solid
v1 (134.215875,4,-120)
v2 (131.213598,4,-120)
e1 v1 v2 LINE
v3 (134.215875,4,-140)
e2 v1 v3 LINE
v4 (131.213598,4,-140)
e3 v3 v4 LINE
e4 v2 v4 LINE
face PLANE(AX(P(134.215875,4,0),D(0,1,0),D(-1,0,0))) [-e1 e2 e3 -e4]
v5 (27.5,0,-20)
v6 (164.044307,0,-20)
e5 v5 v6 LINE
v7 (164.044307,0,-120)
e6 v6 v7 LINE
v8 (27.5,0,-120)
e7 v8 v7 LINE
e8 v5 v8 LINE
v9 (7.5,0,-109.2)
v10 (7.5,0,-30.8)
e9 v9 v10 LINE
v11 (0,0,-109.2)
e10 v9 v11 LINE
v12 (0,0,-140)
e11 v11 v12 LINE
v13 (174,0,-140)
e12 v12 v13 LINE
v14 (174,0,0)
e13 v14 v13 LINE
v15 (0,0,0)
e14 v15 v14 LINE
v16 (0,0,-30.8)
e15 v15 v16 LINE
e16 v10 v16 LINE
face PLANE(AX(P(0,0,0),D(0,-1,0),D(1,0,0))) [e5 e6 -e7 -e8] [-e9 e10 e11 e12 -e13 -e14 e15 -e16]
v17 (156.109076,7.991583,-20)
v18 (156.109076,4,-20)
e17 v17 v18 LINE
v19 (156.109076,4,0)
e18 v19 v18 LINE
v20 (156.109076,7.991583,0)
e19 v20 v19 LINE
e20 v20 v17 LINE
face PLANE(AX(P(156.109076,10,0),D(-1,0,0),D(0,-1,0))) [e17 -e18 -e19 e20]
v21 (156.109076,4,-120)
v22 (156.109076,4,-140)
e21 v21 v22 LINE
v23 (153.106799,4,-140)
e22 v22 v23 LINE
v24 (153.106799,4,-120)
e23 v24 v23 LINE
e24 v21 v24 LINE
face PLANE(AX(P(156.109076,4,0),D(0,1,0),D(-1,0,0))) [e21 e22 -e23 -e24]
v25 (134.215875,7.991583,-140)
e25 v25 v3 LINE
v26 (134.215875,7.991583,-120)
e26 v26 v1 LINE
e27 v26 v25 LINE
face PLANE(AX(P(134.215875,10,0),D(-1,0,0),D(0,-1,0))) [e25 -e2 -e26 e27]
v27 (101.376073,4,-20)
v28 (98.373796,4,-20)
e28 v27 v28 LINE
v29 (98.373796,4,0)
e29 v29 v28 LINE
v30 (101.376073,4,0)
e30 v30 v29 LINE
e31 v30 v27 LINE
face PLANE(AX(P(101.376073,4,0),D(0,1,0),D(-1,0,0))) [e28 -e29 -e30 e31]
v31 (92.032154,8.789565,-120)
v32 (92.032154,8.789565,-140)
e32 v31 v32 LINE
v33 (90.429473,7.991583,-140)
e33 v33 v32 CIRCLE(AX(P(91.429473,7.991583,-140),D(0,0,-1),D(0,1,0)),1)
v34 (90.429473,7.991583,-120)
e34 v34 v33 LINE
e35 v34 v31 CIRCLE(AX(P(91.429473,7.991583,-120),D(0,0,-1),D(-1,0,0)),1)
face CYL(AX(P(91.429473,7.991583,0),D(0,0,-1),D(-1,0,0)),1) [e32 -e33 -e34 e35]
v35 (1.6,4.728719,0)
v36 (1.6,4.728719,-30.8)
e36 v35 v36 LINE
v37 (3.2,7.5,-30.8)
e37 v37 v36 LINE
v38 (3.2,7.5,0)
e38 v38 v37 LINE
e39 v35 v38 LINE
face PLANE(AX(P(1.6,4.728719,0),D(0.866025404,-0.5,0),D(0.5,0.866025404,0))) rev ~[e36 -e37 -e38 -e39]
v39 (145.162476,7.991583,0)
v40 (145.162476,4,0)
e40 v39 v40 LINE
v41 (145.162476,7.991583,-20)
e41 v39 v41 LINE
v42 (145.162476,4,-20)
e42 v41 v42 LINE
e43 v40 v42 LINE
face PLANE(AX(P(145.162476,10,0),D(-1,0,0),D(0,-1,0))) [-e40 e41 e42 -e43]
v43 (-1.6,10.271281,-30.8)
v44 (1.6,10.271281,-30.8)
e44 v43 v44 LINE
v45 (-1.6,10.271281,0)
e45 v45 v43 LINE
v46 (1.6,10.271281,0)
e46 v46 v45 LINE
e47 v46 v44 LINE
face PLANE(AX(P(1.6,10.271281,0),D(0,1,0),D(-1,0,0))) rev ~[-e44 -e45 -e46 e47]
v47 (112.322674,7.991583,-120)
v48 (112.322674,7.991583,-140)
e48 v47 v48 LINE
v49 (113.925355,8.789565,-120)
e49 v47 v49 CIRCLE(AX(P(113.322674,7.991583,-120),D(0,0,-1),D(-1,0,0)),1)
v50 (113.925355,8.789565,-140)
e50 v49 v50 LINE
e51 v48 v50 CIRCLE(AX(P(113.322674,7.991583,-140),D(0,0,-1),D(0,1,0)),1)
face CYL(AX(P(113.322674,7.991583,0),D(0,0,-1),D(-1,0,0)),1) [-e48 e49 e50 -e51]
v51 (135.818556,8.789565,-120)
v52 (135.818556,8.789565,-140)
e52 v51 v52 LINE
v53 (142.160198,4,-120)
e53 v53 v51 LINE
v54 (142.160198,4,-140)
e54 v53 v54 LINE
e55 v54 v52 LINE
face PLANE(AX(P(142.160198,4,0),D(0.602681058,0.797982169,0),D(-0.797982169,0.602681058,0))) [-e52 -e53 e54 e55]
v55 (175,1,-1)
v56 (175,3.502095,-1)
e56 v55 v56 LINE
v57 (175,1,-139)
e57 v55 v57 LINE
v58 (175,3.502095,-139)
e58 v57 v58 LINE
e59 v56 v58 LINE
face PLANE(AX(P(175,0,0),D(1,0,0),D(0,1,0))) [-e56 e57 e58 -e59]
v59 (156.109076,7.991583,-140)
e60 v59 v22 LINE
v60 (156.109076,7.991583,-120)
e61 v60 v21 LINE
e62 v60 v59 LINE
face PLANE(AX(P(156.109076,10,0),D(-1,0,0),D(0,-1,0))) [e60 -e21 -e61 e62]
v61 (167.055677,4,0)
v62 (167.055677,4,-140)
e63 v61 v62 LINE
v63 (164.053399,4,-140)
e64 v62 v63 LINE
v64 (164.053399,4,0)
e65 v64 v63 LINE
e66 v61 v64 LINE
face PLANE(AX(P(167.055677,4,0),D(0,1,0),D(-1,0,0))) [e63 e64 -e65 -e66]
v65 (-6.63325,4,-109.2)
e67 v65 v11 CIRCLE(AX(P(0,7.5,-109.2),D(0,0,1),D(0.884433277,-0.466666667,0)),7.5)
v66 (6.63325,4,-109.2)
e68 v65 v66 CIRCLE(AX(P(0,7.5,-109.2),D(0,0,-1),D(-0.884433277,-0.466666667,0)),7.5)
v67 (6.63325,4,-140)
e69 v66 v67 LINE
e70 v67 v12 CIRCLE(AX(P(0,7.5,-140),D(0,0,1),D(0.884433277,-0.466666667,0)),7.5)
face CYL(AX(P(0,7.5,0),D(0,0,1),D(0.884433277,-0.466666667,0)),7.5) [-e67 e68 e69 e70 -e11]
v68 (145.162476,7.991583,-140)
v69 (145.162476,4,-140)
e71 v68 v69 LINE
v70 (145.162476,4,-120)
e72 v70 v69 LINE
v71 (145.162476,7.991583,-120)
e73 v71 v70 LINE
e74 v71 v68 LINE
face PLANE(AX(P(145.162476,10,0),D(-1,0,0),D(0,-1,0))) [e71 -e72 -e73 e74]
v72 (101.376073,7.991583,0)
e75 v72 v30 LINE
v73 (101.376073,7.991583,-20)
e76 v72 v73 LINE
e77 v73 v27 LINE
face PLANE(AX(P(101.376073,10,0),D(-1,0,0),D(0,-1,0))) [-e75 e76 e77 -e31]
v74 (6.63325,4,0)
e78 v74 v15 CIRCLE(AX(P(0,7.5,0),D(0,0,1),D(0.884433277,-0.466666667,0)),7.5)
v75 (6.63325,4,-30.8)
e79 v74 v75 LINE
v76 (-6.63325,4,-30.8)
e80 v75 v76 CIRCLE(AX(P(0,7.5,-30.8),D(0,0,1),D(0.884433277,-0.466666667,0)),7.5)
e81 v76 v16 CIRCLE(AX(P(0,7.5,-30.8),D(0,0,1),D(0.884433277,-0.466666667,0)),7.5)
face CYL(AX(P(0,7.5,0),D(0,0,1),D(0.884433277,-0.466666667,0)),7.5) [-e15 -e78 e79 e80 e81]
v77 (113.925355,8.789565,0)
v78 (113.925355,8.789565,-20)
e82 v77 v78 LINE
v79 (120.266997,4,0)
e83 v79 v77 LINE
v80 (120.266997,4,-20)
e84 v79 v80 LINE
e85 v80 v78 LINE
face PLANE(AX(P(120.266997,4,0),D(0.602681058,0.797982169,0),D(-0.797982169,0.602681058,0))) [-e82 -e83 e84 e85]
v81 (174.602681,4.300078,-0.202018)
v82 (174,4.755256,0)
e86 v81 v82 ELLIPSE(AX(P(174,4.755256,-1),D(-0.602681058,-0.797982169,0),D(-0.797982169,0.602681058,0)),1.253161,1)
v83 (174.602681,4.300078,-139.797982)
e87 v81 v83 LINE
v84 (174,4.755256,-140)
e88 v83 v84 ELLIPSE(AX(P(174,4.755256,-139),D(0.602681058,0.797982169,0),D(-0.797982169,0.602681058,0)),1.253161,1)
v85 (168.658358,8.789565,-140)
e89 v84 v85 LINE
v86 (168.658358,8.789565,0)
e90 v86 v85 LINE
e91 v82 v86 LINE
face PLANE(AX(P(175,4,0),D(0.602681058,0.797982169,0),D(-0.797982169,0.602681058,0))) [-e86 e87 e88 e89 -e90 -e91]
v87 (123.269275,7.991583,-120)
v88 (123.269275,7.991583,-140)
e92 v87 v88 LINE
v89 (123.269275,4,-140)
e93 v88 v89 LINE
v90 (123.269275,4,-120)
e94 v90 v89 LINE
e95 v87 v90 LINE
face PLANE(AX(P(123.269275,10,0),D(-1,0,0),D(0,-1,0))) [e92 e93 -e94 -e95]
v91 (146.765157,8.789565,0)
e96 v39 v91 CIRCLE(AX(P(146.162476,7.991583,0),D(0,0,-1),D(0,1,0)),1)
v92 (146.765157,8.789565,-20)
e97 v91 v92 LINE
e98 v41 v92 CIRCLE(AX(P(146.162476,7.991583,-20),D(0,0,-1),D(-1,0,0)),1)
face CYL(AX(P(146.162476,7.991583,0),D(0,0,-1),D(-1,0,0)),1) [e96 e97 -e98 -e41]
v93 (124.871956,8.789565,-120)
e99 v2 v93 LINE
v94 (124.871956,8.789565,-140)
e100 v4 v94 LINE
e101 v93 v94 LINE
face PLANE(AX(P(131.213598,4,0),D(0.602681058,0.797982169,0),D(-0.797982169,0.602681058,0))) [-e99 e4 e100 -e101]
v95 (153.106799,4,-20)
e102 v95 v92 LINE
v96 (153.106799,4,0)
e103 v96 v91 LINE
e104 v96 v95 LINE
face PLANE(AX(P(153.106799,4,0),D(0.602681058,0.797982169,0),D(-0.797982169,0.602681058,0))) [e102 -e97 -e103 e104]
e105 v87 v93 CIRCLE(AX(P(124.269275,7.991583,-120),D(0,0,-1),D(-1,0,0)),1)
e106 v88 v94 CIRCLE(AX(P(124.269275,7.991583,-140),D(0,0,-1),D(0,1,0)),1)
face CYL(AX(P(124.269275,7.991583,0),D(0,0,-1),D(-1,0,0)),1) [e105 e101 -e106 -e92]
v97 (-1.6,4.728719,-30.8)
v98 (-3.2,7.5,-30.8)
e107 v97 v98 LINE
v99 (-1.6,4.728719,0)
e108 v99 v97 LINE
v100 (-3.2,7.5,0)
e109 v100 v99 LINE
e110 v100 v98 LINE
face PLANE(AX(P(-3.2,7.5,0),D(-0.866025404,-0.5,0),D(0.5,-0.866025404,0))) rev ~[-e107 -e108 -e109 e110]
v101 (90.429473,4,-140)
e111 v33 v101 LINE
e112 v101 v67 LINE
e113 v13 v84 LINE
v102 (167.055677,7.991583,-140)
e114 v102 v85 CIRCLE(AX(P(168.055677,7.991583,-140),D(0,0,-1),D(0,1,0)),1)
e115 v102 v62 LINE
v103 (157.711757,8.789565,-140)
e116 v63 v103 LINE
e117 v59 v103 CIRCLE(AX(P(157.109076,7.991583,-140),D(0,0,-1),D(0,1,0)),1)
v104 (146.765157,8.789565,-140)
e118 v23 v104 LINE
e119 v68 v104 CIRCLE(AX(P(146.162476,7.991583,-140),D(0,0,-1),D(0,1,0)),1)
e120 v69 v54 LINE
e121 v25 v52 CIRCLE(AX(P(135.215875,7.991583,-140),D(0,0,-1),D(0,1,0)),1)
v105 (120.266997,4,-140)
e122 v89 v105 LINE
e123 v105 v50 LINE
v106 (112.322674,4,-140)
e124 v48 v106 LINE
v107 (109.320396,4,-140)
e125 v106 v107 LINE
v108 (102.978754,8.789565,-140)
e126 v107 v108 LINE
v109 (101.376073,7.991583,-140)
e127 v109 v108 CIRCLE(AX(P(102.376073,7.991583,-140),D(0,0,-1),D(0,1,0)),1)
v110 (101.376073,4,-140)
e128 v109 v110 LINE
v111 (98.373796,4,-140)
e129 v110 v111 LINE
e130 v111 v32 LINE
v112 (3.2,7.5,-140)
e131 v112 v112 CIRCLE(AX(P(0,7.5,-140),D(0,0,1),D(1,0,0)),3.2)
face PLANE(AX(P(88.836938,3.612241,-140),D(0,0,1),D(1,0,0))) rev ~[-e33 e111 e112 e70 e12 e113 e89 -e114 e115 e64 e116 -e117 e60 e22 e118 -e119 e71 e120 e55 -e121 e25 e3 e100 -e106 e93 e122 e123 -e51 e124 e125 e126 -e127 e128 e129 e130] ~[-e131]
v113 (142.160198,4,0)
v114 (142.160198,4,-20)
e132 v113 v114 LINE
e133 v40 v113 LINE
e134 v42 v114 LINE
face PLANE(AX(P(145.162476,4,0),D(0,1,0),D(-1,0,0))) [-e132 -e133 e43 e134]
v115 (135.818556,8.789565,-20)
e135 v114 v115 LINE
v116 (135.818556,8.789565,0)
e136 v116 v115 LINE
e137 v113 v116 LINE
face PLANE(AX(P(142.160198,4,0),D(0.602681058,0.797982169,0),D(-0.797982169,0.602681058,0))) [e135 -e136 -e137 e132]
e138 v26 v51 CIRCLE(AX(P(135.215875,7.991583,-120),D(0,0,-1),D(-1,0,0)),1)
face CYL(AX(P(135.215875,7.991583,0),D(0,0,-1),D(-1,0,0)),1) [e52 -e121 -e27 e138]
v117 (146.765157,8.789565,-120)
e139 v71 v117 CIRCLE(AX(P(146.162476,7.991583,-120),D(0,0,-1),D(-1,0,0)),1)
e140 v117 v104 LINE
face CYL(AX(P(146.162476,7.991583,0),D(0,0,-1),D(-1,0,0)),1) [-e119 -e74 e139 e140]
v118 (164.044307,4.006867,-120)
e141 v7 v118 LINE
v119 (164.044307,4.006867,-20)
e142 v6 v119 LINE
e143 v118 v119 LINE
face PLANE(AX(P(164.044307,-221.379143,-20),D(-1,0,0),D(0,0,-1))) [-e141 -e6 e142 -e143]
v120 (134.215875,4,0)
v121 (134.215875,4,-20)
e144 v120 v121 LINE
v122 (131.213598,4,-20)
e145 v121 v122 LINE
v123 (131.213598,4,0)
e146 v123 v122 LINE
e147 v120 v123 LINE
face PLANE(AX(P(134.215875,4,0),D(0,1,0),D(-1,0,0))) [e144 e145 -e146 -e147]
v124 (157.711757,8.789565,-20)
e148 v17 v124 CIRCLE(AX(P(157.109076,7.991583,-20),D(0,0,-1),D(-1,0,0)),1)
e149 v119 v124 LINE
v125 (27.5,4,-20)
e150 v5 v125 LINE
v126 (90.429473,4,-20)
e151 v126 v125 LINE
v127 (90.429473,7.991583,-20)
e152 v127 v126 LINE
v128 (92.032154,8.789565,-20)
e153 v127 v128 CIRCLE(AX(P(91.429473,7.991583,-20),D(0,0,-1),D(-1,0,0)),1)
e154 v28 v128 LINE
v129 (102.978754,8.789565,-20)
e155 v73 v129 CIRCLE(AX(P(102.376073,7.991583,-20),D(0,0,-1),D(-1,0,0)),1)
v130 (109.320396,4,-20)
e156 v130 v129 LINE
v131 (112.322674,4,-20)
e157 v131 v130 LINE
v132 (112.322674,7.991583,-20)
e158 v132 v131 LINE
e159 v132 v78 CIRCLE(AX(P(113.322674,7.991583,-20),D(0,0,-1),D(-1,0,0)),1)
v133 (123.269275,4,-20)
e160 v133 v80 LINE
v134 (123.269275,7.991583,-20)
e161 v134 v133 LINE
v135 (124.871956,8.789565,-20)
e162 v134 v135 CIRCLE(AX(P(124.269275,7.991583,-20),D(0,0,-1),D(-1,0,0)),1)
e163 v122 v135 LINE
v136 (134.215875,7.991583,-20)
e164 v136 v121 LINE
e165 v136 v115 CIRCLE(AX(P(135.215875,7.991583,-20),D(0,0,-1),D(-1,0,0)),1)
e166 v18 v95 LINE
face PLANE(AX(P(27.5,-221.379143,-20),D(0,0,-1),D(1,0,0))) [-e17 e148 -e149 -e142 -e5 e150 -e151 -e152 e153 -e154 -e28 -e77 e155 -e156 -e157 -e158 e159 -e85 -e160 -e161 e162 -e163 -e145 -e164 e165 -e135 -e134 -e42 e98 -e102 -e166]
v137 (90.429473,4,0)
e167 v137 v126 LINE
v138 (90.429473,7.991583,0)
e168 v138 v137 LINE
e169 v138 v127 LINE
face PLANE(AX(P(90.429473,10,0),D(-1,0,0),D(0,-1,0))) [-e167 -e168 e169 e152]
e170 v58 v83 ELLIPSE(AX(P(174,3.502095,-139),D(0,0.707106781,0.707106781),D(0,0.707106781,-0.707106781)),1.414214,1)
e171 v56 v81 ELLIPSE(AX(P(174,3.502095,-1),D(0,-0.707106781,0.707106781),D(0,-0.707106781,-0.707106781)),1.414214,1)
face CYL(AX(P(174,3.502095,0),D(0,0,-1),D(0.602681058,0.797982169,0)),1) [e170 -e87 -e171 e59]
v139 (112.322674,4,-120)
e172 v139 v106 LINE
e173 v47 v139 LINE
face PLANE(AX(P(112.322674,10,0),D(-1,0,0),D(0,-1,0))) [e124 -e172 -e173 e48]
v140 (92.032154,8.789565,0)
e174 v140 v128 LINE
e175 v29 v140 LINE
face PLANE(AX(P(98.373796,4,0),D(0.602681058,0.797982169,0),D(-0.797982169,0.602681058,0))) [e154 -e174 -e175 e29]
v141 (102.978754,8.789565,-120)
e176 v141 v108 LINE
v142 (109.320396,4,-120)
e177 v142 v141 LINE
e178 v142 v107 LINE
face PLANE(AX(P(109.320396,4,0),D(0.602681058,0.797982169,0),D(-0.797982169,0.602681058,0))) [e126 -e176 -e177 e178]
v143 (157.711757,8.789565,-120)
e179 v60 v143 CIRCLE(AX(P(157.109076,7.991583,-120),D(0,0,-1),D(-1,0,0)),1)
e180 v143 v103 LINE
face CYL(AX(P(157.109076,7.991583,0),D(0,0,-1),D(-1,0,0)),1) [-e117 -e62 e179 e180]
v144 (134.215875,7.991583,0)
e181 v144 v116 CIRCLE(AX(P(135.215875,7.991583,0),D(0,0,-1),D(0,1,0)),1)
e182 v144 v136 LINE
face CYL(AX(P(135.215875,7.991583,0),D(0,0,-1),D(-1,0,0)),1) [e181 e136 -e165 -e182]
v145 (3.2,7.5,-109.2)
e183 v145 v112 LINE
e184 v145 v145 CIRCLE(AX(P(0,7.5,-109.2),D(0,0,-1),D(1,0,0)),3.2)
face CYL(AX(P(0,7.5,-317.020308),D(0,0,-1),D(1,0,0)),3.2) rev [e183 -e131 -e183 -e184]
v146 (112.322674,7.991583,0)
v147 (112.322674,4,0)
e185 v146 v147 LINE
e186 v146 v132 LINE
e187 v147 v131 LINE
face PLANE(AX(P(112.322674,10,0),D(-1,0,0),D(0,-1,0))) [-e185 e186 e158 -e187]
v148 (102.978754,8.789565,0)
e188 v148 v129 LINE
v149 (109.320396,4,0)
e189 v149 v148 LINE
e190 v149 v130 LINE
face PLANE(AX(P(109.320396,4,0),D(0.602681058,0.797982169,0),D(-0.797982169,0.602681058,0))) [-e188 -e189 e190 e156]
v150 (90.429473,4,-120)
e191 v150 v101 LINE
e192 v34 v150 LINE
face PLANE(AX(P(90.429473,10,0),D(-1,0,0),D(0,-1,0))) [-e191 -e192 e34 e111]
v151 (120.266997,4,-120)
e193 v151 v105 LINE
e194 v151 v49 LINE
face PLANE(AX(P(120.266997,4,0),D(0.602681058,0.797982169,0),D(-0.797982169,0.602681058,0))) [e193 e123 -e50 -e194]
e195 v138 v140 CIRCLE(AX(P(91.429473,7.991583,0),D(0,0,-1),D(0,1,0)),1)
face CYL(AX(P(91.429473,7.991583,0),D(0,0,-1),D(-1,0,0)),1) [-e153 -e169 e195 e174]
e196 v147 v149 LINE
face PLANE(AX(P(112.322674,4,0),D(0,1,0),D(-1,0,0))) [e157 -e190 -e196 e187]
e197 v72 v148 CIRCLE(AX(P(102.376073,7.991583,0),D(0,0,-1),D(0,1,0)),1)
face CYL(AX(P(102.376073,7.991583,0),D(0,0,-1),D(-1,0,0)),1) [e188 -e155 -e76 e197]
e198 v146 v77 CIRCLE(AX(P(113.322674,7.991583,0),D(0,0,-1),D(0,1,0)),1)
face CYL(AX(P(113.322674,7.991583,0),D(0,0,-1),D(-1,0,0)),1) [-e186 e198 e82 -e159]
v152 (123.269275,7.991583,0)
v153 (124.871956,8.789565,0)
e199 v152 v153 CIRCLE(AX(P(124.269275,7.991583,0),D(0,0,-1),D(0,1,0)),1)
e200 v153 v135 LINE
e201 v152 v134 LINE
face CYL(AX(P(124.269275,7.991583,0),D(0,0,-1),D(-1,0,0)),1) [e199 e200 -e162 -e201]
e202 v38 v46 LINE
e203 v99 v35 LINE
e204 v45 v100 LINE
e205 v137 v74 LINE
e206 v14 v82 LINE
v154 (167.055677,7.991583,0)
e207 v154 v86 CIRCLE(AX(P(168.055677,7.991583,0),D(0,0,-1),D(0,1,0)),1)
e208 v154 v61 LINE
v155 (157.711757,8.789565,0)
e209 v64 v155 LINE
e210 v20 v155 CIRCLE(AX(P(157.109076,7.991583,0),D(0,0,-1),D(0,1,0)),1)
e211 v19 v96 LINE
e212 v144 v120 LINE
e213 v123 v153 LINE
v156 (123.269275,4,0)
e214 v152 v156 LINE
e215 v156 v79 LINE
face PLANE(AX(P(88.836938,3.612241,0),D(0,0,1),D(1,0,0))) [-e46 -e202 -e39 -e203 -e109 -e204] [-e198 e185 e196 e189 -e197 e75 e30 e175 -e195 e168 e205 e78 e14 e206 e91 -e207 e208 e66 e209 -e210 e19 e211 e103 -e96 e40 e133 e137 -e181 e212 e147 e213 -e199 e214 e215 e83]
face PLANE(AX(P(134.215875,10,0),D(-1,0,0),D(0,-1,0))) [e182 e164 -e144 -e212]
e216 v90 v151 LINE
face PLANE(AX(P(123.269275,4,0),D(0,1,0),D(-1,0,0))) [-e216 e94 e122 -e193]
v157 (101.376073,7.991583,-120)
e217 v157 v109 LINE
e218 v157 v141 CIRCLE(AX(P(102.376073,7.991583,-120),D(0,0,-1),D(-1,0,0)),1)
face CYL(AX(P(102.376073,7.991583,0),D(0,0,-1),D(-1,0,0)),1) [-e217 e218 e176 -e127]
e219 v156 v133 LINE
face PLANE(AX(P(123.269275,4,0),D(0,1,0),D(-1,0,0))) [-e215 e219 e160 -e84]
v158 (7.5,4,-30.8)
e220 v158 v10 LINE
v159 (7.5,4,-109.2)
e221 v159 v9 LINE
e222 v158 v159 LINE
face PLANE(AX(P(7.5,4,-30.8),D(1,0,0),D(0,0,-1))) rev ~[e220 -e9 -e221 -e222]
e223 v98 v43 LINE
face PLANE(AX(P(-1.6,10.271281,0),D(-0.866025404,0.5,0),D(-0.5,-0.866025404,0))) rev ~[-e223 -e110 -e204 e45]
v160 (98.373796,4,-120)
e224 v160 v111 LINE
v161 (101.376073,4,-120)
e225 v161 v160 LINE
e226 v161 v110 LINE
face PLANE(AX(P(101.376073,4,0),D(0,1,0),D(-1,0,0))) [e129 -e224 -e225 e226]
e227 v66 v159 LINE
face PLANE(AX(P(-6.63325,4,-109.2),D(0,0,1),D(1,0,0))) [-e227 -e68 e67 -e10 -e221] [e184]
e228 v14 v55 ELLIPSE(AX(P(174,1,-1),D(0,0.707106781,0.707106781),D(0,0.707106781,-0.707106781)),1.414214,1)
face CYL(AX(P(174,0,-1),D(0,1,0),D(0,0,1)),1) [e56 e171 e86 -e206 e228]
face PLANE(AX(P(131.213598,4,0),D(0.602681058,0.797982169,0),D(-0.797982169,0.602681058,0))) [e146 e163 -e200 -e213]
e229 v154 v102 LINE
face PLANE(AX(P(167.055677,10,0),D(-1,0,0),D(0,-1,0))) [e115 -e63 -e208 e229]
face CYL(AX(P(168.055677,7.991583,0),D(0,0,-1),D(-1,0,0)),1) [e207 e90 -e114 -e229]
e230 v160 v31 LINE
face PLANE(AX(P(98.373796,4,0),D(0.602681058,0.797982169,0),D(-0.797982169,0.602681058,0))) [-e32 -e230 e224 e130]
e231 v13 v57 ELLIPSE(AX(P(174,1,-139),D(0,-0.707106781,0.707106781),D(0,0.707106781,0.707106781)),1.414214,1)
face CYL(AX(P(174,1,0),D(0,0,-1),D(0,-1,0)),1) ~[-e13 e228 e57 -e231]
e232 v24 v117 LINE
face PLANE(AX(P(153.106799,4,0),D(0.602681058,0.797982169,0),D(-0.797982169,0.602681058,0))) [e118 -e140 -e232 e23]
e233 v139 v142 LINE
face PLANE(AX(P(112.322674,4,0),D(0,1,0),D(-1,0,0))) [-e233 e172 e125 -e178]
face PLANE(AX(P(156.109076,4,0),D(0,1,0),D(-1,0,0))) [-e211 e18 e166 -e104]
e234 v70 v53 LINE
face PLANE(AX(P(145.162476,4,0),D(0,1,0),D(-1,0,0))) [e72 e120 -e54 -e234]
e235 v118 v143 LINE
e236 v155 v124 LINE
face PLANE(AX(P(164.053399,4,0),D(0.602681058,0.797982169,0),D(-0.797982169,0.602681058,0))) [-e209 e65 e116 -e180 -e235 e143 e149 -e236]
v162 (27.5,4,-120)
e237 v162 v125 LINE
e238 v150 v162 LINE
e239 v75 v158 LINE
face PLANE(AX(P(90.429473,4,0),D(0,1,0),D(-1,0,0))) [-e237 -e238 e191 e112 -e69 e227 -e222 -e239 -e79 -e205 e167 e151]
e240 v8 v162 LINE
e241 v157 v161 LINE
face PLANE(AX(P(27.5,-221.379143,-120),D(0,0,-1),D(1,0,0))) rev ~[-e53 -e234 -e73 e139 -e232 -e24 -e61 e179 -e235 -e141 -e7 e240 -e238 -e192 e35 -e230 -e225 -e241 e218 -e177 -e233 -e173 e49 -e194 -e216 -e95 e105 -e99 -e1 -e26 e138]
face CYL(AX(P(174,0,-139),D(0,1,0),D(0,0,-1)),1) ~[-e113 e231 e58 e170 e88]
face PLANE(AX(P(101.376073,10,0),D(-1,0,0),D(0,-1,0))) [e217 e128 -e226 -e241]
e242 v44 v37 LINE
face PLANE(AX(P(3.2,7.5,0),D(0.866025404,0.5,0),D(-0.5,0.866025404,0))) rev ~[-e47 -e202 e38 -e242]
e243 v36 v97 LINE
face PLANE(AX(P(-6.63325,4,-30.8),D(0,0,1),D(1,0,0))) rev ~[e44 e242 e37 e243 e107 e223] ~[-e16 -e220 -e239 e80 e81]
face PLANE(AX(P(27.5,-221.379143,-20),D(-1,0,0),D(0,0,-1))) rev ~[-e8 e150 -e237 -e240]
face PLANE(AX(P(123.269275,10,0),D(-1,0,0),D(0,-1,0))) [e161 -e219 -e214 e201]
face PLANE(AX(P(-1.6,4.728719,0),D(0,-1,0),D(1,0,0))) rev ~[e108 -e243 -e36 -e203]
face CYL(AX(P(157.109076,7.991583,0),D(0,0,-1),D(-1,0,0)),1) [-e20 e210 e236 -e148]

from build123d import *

# Parameters (mm, degrees)
EXTRUDE_1_DEPTH          = 140
CUT_EXTRUDE_1_DEPTH      = 20
CUT_EXTRUDE_1_DEPTH_BACK = 20
SKETCH_2_W               = 78.4
SKETCH_2_H               = 11
CUT_EXTRUDE_2_DEPTH      = 78.4
CUT_EXTRUDE_2_DEPTH_BACK = 207.820308481
SKETCH_3_R               = 3.2
FILLET_1_R               = 1
SKETCH_4_W               = 14.133249581
SKETCH_4_H               = 78.4
CUT_EXTRUDE_3_DEPTH      = 225.379143416
CUT_EXTRUDE_4_DEPTH      = 225.379143416
CUT_EXTRUDE_4_DEPTH_BACK = 225.379143416
SKETCH_5_W               = 136.544306781
SKETCH_5_H               = 100


with BuildPart() as part:
    # 草图1 → 凸台-拉伸1 (new body)
    with BuildSketch(Plane.XY):
        with BuildLine():
            Line((0, 0), (175, 0))
            Line((175, 0), (175, 4))
            Line((175, 4), (167.055676963, 10))
            Line((167.055676963, 10), (167.055676963, 4))
            Line((167.055676963, 4), (164.053399387, 4))
            Line((164.053399387, 4), (156.10907635, 10))
            Line((156.10907635, 10), (156.10907635, 4))
            Line((156.10907635, 4), (153.106798774, 4))
            Line((153.106798774, 4), (145.162475737, 10))
            Line((145.162475737, 10), (145.162475737, 4))
            Line((145.162475737, 4), (142.160198161, 4))
            Line((142.160198161, 4), (134.215875124, 10))
            Line((134.215875124, 10), (134.215875124, 4))
            Line((134.215875124, 4), (131.213597548, 4))
            Line((131.213597548, 4), (123.269274511, 10))
            Line((123.269274511, 10), (123.269274511, 4))
            Line((123.269274511, 4), (120.266996935, 4))
            Line((120.266996935, 4), (112.322673898, 10))
            Line((112.322673898, 10), (112.322673898, 4))
            Line((112.322673898, 4), (109.320396322, 4))
            Line((109.320396322, 4), (101.376073285, 10))
            Line((101.376073285, 10), (101.376073285, 4))
            Line((101.376073285, 4), (98.373795709, 4))
            Line((98.373795709, 4), (90.429472672, 10))
            Line((90.429472672, 10), (90.429472672, 4))
            Line((90.429472672, 4), (72.427195096, 4))
            Line((72.427195096, 4), (65.557646205, 4))
            Line((65.557646205, 4), (61.480594483, 4))
            Line((61.480594483, 4), (54.611045592, 4))
            Line((54.611045592, 4), (6.633249581, 4))
            ThreePointArc((6.633249581, 4), (-3.872983346, 13.922616289), (0, 0))
        make_face()
        Polygon((3.2, 7.5), (1.6, 10.271281292), (-1.6, 10.271281292), (-3.2, 7.5), (-1.6, 4.728718708), (1.6, 4.728718708), align=None, mode=Mode.SUBTRACT)
    extrude(amount=-EXTRUDE_1_DEPTH)

    # 草图2 → 切除-拉伸1 (cut, two sides: drawn at the far end of the back side and taken through both)
    with BuildSketch(Plane(origin=(0, 0, 0), x_dir=(0, 0, -1), z_dir=(1, 0, 0)).offset(-CUT_EXTRUDE_1_DEPTH_BACK)):
        with Locations((70, 9.5)):
            Rectangle(SKETCH_2_W, SKETCH_2_H)
    extrude(amount=CUT_EXTRUDE_1_DEPTH + CUT_EXTRUDE_1_DEPTH_BACK, mode=Mode.SUBTRACT)

    # 草图3 → 切除-拉伸2 (cut, two sides: drawn at the far end of the back side and taken through both)
    with BuildSketch(Plane.XY.offset(-109.2).offset(-CUT_EXTRUDE_2_DEPTH_BACK)):
        with Locations((0, 7.5)):
            Circle(SKETCH_3_R)
    extrude(amount=CUT_EXTRUDE_2_DEPTH + CUT_EXTRUDE_2_DEPTH_BACK, mode=Mode.SUBTRACT)

    # 圆角1
    fillet_1_edges = [part.edges().sort_by_distance(p)[0] for p in [
        (175, 2, -140),
        (175, 2, 0),
        (90.429472672, 10, -70),
        (101.376073285, 10, -70),
        (112.322673898, 10, -70),
        (123.269274511, 10, -70),
        (134.215875124, 10, -70),
        (145.162475737, 10, -70),
        (156.10907635, 10, -70),
        (167.055676963, 10, -70),
        (175, 4, -70),
        (175, 0, -70),
    ]]
    fillet(fillet_1_edges, radius=FILLET_1_R)

    # 草图4 → 切除-拉伸3 (cut, through all)
    with BuildSketch(Plane(origin=(0, 4, 0), x_dir=(1, 0, 0), z_dir=(0, 1, 0))):
        with Locations((0.43337521, 70)):
            Rectangle(SKETCH_4_W, SKETCH_4_H)
    extrude(amount=-CUT_EXTRUDE_3_DEPTH, mode=Mode.SUBTRACT)

    # 草图5 → 切除-拉伸4 (cut, two sides: drawn at the far end of the back side and taken through both)
    with BuildSketch(Plane(origin=(0, 4, 0), x_dir=(1, 0, 0), z_dir=(0, 1, 0)).offset(-CUT_EXTRUDE_4_DEPTH_BACK)):
        with Locations((95.772153391, 70)):
            Rectangle(SKETCH_5_W, SKETCH_5_H)
    extrude(amount=CUT_EXTRUDE_4_DEPTH + CUT_EXTRUDE_4_DEPTH_BACK, mode=Mode.SUBTRACT)


solid = part.part
